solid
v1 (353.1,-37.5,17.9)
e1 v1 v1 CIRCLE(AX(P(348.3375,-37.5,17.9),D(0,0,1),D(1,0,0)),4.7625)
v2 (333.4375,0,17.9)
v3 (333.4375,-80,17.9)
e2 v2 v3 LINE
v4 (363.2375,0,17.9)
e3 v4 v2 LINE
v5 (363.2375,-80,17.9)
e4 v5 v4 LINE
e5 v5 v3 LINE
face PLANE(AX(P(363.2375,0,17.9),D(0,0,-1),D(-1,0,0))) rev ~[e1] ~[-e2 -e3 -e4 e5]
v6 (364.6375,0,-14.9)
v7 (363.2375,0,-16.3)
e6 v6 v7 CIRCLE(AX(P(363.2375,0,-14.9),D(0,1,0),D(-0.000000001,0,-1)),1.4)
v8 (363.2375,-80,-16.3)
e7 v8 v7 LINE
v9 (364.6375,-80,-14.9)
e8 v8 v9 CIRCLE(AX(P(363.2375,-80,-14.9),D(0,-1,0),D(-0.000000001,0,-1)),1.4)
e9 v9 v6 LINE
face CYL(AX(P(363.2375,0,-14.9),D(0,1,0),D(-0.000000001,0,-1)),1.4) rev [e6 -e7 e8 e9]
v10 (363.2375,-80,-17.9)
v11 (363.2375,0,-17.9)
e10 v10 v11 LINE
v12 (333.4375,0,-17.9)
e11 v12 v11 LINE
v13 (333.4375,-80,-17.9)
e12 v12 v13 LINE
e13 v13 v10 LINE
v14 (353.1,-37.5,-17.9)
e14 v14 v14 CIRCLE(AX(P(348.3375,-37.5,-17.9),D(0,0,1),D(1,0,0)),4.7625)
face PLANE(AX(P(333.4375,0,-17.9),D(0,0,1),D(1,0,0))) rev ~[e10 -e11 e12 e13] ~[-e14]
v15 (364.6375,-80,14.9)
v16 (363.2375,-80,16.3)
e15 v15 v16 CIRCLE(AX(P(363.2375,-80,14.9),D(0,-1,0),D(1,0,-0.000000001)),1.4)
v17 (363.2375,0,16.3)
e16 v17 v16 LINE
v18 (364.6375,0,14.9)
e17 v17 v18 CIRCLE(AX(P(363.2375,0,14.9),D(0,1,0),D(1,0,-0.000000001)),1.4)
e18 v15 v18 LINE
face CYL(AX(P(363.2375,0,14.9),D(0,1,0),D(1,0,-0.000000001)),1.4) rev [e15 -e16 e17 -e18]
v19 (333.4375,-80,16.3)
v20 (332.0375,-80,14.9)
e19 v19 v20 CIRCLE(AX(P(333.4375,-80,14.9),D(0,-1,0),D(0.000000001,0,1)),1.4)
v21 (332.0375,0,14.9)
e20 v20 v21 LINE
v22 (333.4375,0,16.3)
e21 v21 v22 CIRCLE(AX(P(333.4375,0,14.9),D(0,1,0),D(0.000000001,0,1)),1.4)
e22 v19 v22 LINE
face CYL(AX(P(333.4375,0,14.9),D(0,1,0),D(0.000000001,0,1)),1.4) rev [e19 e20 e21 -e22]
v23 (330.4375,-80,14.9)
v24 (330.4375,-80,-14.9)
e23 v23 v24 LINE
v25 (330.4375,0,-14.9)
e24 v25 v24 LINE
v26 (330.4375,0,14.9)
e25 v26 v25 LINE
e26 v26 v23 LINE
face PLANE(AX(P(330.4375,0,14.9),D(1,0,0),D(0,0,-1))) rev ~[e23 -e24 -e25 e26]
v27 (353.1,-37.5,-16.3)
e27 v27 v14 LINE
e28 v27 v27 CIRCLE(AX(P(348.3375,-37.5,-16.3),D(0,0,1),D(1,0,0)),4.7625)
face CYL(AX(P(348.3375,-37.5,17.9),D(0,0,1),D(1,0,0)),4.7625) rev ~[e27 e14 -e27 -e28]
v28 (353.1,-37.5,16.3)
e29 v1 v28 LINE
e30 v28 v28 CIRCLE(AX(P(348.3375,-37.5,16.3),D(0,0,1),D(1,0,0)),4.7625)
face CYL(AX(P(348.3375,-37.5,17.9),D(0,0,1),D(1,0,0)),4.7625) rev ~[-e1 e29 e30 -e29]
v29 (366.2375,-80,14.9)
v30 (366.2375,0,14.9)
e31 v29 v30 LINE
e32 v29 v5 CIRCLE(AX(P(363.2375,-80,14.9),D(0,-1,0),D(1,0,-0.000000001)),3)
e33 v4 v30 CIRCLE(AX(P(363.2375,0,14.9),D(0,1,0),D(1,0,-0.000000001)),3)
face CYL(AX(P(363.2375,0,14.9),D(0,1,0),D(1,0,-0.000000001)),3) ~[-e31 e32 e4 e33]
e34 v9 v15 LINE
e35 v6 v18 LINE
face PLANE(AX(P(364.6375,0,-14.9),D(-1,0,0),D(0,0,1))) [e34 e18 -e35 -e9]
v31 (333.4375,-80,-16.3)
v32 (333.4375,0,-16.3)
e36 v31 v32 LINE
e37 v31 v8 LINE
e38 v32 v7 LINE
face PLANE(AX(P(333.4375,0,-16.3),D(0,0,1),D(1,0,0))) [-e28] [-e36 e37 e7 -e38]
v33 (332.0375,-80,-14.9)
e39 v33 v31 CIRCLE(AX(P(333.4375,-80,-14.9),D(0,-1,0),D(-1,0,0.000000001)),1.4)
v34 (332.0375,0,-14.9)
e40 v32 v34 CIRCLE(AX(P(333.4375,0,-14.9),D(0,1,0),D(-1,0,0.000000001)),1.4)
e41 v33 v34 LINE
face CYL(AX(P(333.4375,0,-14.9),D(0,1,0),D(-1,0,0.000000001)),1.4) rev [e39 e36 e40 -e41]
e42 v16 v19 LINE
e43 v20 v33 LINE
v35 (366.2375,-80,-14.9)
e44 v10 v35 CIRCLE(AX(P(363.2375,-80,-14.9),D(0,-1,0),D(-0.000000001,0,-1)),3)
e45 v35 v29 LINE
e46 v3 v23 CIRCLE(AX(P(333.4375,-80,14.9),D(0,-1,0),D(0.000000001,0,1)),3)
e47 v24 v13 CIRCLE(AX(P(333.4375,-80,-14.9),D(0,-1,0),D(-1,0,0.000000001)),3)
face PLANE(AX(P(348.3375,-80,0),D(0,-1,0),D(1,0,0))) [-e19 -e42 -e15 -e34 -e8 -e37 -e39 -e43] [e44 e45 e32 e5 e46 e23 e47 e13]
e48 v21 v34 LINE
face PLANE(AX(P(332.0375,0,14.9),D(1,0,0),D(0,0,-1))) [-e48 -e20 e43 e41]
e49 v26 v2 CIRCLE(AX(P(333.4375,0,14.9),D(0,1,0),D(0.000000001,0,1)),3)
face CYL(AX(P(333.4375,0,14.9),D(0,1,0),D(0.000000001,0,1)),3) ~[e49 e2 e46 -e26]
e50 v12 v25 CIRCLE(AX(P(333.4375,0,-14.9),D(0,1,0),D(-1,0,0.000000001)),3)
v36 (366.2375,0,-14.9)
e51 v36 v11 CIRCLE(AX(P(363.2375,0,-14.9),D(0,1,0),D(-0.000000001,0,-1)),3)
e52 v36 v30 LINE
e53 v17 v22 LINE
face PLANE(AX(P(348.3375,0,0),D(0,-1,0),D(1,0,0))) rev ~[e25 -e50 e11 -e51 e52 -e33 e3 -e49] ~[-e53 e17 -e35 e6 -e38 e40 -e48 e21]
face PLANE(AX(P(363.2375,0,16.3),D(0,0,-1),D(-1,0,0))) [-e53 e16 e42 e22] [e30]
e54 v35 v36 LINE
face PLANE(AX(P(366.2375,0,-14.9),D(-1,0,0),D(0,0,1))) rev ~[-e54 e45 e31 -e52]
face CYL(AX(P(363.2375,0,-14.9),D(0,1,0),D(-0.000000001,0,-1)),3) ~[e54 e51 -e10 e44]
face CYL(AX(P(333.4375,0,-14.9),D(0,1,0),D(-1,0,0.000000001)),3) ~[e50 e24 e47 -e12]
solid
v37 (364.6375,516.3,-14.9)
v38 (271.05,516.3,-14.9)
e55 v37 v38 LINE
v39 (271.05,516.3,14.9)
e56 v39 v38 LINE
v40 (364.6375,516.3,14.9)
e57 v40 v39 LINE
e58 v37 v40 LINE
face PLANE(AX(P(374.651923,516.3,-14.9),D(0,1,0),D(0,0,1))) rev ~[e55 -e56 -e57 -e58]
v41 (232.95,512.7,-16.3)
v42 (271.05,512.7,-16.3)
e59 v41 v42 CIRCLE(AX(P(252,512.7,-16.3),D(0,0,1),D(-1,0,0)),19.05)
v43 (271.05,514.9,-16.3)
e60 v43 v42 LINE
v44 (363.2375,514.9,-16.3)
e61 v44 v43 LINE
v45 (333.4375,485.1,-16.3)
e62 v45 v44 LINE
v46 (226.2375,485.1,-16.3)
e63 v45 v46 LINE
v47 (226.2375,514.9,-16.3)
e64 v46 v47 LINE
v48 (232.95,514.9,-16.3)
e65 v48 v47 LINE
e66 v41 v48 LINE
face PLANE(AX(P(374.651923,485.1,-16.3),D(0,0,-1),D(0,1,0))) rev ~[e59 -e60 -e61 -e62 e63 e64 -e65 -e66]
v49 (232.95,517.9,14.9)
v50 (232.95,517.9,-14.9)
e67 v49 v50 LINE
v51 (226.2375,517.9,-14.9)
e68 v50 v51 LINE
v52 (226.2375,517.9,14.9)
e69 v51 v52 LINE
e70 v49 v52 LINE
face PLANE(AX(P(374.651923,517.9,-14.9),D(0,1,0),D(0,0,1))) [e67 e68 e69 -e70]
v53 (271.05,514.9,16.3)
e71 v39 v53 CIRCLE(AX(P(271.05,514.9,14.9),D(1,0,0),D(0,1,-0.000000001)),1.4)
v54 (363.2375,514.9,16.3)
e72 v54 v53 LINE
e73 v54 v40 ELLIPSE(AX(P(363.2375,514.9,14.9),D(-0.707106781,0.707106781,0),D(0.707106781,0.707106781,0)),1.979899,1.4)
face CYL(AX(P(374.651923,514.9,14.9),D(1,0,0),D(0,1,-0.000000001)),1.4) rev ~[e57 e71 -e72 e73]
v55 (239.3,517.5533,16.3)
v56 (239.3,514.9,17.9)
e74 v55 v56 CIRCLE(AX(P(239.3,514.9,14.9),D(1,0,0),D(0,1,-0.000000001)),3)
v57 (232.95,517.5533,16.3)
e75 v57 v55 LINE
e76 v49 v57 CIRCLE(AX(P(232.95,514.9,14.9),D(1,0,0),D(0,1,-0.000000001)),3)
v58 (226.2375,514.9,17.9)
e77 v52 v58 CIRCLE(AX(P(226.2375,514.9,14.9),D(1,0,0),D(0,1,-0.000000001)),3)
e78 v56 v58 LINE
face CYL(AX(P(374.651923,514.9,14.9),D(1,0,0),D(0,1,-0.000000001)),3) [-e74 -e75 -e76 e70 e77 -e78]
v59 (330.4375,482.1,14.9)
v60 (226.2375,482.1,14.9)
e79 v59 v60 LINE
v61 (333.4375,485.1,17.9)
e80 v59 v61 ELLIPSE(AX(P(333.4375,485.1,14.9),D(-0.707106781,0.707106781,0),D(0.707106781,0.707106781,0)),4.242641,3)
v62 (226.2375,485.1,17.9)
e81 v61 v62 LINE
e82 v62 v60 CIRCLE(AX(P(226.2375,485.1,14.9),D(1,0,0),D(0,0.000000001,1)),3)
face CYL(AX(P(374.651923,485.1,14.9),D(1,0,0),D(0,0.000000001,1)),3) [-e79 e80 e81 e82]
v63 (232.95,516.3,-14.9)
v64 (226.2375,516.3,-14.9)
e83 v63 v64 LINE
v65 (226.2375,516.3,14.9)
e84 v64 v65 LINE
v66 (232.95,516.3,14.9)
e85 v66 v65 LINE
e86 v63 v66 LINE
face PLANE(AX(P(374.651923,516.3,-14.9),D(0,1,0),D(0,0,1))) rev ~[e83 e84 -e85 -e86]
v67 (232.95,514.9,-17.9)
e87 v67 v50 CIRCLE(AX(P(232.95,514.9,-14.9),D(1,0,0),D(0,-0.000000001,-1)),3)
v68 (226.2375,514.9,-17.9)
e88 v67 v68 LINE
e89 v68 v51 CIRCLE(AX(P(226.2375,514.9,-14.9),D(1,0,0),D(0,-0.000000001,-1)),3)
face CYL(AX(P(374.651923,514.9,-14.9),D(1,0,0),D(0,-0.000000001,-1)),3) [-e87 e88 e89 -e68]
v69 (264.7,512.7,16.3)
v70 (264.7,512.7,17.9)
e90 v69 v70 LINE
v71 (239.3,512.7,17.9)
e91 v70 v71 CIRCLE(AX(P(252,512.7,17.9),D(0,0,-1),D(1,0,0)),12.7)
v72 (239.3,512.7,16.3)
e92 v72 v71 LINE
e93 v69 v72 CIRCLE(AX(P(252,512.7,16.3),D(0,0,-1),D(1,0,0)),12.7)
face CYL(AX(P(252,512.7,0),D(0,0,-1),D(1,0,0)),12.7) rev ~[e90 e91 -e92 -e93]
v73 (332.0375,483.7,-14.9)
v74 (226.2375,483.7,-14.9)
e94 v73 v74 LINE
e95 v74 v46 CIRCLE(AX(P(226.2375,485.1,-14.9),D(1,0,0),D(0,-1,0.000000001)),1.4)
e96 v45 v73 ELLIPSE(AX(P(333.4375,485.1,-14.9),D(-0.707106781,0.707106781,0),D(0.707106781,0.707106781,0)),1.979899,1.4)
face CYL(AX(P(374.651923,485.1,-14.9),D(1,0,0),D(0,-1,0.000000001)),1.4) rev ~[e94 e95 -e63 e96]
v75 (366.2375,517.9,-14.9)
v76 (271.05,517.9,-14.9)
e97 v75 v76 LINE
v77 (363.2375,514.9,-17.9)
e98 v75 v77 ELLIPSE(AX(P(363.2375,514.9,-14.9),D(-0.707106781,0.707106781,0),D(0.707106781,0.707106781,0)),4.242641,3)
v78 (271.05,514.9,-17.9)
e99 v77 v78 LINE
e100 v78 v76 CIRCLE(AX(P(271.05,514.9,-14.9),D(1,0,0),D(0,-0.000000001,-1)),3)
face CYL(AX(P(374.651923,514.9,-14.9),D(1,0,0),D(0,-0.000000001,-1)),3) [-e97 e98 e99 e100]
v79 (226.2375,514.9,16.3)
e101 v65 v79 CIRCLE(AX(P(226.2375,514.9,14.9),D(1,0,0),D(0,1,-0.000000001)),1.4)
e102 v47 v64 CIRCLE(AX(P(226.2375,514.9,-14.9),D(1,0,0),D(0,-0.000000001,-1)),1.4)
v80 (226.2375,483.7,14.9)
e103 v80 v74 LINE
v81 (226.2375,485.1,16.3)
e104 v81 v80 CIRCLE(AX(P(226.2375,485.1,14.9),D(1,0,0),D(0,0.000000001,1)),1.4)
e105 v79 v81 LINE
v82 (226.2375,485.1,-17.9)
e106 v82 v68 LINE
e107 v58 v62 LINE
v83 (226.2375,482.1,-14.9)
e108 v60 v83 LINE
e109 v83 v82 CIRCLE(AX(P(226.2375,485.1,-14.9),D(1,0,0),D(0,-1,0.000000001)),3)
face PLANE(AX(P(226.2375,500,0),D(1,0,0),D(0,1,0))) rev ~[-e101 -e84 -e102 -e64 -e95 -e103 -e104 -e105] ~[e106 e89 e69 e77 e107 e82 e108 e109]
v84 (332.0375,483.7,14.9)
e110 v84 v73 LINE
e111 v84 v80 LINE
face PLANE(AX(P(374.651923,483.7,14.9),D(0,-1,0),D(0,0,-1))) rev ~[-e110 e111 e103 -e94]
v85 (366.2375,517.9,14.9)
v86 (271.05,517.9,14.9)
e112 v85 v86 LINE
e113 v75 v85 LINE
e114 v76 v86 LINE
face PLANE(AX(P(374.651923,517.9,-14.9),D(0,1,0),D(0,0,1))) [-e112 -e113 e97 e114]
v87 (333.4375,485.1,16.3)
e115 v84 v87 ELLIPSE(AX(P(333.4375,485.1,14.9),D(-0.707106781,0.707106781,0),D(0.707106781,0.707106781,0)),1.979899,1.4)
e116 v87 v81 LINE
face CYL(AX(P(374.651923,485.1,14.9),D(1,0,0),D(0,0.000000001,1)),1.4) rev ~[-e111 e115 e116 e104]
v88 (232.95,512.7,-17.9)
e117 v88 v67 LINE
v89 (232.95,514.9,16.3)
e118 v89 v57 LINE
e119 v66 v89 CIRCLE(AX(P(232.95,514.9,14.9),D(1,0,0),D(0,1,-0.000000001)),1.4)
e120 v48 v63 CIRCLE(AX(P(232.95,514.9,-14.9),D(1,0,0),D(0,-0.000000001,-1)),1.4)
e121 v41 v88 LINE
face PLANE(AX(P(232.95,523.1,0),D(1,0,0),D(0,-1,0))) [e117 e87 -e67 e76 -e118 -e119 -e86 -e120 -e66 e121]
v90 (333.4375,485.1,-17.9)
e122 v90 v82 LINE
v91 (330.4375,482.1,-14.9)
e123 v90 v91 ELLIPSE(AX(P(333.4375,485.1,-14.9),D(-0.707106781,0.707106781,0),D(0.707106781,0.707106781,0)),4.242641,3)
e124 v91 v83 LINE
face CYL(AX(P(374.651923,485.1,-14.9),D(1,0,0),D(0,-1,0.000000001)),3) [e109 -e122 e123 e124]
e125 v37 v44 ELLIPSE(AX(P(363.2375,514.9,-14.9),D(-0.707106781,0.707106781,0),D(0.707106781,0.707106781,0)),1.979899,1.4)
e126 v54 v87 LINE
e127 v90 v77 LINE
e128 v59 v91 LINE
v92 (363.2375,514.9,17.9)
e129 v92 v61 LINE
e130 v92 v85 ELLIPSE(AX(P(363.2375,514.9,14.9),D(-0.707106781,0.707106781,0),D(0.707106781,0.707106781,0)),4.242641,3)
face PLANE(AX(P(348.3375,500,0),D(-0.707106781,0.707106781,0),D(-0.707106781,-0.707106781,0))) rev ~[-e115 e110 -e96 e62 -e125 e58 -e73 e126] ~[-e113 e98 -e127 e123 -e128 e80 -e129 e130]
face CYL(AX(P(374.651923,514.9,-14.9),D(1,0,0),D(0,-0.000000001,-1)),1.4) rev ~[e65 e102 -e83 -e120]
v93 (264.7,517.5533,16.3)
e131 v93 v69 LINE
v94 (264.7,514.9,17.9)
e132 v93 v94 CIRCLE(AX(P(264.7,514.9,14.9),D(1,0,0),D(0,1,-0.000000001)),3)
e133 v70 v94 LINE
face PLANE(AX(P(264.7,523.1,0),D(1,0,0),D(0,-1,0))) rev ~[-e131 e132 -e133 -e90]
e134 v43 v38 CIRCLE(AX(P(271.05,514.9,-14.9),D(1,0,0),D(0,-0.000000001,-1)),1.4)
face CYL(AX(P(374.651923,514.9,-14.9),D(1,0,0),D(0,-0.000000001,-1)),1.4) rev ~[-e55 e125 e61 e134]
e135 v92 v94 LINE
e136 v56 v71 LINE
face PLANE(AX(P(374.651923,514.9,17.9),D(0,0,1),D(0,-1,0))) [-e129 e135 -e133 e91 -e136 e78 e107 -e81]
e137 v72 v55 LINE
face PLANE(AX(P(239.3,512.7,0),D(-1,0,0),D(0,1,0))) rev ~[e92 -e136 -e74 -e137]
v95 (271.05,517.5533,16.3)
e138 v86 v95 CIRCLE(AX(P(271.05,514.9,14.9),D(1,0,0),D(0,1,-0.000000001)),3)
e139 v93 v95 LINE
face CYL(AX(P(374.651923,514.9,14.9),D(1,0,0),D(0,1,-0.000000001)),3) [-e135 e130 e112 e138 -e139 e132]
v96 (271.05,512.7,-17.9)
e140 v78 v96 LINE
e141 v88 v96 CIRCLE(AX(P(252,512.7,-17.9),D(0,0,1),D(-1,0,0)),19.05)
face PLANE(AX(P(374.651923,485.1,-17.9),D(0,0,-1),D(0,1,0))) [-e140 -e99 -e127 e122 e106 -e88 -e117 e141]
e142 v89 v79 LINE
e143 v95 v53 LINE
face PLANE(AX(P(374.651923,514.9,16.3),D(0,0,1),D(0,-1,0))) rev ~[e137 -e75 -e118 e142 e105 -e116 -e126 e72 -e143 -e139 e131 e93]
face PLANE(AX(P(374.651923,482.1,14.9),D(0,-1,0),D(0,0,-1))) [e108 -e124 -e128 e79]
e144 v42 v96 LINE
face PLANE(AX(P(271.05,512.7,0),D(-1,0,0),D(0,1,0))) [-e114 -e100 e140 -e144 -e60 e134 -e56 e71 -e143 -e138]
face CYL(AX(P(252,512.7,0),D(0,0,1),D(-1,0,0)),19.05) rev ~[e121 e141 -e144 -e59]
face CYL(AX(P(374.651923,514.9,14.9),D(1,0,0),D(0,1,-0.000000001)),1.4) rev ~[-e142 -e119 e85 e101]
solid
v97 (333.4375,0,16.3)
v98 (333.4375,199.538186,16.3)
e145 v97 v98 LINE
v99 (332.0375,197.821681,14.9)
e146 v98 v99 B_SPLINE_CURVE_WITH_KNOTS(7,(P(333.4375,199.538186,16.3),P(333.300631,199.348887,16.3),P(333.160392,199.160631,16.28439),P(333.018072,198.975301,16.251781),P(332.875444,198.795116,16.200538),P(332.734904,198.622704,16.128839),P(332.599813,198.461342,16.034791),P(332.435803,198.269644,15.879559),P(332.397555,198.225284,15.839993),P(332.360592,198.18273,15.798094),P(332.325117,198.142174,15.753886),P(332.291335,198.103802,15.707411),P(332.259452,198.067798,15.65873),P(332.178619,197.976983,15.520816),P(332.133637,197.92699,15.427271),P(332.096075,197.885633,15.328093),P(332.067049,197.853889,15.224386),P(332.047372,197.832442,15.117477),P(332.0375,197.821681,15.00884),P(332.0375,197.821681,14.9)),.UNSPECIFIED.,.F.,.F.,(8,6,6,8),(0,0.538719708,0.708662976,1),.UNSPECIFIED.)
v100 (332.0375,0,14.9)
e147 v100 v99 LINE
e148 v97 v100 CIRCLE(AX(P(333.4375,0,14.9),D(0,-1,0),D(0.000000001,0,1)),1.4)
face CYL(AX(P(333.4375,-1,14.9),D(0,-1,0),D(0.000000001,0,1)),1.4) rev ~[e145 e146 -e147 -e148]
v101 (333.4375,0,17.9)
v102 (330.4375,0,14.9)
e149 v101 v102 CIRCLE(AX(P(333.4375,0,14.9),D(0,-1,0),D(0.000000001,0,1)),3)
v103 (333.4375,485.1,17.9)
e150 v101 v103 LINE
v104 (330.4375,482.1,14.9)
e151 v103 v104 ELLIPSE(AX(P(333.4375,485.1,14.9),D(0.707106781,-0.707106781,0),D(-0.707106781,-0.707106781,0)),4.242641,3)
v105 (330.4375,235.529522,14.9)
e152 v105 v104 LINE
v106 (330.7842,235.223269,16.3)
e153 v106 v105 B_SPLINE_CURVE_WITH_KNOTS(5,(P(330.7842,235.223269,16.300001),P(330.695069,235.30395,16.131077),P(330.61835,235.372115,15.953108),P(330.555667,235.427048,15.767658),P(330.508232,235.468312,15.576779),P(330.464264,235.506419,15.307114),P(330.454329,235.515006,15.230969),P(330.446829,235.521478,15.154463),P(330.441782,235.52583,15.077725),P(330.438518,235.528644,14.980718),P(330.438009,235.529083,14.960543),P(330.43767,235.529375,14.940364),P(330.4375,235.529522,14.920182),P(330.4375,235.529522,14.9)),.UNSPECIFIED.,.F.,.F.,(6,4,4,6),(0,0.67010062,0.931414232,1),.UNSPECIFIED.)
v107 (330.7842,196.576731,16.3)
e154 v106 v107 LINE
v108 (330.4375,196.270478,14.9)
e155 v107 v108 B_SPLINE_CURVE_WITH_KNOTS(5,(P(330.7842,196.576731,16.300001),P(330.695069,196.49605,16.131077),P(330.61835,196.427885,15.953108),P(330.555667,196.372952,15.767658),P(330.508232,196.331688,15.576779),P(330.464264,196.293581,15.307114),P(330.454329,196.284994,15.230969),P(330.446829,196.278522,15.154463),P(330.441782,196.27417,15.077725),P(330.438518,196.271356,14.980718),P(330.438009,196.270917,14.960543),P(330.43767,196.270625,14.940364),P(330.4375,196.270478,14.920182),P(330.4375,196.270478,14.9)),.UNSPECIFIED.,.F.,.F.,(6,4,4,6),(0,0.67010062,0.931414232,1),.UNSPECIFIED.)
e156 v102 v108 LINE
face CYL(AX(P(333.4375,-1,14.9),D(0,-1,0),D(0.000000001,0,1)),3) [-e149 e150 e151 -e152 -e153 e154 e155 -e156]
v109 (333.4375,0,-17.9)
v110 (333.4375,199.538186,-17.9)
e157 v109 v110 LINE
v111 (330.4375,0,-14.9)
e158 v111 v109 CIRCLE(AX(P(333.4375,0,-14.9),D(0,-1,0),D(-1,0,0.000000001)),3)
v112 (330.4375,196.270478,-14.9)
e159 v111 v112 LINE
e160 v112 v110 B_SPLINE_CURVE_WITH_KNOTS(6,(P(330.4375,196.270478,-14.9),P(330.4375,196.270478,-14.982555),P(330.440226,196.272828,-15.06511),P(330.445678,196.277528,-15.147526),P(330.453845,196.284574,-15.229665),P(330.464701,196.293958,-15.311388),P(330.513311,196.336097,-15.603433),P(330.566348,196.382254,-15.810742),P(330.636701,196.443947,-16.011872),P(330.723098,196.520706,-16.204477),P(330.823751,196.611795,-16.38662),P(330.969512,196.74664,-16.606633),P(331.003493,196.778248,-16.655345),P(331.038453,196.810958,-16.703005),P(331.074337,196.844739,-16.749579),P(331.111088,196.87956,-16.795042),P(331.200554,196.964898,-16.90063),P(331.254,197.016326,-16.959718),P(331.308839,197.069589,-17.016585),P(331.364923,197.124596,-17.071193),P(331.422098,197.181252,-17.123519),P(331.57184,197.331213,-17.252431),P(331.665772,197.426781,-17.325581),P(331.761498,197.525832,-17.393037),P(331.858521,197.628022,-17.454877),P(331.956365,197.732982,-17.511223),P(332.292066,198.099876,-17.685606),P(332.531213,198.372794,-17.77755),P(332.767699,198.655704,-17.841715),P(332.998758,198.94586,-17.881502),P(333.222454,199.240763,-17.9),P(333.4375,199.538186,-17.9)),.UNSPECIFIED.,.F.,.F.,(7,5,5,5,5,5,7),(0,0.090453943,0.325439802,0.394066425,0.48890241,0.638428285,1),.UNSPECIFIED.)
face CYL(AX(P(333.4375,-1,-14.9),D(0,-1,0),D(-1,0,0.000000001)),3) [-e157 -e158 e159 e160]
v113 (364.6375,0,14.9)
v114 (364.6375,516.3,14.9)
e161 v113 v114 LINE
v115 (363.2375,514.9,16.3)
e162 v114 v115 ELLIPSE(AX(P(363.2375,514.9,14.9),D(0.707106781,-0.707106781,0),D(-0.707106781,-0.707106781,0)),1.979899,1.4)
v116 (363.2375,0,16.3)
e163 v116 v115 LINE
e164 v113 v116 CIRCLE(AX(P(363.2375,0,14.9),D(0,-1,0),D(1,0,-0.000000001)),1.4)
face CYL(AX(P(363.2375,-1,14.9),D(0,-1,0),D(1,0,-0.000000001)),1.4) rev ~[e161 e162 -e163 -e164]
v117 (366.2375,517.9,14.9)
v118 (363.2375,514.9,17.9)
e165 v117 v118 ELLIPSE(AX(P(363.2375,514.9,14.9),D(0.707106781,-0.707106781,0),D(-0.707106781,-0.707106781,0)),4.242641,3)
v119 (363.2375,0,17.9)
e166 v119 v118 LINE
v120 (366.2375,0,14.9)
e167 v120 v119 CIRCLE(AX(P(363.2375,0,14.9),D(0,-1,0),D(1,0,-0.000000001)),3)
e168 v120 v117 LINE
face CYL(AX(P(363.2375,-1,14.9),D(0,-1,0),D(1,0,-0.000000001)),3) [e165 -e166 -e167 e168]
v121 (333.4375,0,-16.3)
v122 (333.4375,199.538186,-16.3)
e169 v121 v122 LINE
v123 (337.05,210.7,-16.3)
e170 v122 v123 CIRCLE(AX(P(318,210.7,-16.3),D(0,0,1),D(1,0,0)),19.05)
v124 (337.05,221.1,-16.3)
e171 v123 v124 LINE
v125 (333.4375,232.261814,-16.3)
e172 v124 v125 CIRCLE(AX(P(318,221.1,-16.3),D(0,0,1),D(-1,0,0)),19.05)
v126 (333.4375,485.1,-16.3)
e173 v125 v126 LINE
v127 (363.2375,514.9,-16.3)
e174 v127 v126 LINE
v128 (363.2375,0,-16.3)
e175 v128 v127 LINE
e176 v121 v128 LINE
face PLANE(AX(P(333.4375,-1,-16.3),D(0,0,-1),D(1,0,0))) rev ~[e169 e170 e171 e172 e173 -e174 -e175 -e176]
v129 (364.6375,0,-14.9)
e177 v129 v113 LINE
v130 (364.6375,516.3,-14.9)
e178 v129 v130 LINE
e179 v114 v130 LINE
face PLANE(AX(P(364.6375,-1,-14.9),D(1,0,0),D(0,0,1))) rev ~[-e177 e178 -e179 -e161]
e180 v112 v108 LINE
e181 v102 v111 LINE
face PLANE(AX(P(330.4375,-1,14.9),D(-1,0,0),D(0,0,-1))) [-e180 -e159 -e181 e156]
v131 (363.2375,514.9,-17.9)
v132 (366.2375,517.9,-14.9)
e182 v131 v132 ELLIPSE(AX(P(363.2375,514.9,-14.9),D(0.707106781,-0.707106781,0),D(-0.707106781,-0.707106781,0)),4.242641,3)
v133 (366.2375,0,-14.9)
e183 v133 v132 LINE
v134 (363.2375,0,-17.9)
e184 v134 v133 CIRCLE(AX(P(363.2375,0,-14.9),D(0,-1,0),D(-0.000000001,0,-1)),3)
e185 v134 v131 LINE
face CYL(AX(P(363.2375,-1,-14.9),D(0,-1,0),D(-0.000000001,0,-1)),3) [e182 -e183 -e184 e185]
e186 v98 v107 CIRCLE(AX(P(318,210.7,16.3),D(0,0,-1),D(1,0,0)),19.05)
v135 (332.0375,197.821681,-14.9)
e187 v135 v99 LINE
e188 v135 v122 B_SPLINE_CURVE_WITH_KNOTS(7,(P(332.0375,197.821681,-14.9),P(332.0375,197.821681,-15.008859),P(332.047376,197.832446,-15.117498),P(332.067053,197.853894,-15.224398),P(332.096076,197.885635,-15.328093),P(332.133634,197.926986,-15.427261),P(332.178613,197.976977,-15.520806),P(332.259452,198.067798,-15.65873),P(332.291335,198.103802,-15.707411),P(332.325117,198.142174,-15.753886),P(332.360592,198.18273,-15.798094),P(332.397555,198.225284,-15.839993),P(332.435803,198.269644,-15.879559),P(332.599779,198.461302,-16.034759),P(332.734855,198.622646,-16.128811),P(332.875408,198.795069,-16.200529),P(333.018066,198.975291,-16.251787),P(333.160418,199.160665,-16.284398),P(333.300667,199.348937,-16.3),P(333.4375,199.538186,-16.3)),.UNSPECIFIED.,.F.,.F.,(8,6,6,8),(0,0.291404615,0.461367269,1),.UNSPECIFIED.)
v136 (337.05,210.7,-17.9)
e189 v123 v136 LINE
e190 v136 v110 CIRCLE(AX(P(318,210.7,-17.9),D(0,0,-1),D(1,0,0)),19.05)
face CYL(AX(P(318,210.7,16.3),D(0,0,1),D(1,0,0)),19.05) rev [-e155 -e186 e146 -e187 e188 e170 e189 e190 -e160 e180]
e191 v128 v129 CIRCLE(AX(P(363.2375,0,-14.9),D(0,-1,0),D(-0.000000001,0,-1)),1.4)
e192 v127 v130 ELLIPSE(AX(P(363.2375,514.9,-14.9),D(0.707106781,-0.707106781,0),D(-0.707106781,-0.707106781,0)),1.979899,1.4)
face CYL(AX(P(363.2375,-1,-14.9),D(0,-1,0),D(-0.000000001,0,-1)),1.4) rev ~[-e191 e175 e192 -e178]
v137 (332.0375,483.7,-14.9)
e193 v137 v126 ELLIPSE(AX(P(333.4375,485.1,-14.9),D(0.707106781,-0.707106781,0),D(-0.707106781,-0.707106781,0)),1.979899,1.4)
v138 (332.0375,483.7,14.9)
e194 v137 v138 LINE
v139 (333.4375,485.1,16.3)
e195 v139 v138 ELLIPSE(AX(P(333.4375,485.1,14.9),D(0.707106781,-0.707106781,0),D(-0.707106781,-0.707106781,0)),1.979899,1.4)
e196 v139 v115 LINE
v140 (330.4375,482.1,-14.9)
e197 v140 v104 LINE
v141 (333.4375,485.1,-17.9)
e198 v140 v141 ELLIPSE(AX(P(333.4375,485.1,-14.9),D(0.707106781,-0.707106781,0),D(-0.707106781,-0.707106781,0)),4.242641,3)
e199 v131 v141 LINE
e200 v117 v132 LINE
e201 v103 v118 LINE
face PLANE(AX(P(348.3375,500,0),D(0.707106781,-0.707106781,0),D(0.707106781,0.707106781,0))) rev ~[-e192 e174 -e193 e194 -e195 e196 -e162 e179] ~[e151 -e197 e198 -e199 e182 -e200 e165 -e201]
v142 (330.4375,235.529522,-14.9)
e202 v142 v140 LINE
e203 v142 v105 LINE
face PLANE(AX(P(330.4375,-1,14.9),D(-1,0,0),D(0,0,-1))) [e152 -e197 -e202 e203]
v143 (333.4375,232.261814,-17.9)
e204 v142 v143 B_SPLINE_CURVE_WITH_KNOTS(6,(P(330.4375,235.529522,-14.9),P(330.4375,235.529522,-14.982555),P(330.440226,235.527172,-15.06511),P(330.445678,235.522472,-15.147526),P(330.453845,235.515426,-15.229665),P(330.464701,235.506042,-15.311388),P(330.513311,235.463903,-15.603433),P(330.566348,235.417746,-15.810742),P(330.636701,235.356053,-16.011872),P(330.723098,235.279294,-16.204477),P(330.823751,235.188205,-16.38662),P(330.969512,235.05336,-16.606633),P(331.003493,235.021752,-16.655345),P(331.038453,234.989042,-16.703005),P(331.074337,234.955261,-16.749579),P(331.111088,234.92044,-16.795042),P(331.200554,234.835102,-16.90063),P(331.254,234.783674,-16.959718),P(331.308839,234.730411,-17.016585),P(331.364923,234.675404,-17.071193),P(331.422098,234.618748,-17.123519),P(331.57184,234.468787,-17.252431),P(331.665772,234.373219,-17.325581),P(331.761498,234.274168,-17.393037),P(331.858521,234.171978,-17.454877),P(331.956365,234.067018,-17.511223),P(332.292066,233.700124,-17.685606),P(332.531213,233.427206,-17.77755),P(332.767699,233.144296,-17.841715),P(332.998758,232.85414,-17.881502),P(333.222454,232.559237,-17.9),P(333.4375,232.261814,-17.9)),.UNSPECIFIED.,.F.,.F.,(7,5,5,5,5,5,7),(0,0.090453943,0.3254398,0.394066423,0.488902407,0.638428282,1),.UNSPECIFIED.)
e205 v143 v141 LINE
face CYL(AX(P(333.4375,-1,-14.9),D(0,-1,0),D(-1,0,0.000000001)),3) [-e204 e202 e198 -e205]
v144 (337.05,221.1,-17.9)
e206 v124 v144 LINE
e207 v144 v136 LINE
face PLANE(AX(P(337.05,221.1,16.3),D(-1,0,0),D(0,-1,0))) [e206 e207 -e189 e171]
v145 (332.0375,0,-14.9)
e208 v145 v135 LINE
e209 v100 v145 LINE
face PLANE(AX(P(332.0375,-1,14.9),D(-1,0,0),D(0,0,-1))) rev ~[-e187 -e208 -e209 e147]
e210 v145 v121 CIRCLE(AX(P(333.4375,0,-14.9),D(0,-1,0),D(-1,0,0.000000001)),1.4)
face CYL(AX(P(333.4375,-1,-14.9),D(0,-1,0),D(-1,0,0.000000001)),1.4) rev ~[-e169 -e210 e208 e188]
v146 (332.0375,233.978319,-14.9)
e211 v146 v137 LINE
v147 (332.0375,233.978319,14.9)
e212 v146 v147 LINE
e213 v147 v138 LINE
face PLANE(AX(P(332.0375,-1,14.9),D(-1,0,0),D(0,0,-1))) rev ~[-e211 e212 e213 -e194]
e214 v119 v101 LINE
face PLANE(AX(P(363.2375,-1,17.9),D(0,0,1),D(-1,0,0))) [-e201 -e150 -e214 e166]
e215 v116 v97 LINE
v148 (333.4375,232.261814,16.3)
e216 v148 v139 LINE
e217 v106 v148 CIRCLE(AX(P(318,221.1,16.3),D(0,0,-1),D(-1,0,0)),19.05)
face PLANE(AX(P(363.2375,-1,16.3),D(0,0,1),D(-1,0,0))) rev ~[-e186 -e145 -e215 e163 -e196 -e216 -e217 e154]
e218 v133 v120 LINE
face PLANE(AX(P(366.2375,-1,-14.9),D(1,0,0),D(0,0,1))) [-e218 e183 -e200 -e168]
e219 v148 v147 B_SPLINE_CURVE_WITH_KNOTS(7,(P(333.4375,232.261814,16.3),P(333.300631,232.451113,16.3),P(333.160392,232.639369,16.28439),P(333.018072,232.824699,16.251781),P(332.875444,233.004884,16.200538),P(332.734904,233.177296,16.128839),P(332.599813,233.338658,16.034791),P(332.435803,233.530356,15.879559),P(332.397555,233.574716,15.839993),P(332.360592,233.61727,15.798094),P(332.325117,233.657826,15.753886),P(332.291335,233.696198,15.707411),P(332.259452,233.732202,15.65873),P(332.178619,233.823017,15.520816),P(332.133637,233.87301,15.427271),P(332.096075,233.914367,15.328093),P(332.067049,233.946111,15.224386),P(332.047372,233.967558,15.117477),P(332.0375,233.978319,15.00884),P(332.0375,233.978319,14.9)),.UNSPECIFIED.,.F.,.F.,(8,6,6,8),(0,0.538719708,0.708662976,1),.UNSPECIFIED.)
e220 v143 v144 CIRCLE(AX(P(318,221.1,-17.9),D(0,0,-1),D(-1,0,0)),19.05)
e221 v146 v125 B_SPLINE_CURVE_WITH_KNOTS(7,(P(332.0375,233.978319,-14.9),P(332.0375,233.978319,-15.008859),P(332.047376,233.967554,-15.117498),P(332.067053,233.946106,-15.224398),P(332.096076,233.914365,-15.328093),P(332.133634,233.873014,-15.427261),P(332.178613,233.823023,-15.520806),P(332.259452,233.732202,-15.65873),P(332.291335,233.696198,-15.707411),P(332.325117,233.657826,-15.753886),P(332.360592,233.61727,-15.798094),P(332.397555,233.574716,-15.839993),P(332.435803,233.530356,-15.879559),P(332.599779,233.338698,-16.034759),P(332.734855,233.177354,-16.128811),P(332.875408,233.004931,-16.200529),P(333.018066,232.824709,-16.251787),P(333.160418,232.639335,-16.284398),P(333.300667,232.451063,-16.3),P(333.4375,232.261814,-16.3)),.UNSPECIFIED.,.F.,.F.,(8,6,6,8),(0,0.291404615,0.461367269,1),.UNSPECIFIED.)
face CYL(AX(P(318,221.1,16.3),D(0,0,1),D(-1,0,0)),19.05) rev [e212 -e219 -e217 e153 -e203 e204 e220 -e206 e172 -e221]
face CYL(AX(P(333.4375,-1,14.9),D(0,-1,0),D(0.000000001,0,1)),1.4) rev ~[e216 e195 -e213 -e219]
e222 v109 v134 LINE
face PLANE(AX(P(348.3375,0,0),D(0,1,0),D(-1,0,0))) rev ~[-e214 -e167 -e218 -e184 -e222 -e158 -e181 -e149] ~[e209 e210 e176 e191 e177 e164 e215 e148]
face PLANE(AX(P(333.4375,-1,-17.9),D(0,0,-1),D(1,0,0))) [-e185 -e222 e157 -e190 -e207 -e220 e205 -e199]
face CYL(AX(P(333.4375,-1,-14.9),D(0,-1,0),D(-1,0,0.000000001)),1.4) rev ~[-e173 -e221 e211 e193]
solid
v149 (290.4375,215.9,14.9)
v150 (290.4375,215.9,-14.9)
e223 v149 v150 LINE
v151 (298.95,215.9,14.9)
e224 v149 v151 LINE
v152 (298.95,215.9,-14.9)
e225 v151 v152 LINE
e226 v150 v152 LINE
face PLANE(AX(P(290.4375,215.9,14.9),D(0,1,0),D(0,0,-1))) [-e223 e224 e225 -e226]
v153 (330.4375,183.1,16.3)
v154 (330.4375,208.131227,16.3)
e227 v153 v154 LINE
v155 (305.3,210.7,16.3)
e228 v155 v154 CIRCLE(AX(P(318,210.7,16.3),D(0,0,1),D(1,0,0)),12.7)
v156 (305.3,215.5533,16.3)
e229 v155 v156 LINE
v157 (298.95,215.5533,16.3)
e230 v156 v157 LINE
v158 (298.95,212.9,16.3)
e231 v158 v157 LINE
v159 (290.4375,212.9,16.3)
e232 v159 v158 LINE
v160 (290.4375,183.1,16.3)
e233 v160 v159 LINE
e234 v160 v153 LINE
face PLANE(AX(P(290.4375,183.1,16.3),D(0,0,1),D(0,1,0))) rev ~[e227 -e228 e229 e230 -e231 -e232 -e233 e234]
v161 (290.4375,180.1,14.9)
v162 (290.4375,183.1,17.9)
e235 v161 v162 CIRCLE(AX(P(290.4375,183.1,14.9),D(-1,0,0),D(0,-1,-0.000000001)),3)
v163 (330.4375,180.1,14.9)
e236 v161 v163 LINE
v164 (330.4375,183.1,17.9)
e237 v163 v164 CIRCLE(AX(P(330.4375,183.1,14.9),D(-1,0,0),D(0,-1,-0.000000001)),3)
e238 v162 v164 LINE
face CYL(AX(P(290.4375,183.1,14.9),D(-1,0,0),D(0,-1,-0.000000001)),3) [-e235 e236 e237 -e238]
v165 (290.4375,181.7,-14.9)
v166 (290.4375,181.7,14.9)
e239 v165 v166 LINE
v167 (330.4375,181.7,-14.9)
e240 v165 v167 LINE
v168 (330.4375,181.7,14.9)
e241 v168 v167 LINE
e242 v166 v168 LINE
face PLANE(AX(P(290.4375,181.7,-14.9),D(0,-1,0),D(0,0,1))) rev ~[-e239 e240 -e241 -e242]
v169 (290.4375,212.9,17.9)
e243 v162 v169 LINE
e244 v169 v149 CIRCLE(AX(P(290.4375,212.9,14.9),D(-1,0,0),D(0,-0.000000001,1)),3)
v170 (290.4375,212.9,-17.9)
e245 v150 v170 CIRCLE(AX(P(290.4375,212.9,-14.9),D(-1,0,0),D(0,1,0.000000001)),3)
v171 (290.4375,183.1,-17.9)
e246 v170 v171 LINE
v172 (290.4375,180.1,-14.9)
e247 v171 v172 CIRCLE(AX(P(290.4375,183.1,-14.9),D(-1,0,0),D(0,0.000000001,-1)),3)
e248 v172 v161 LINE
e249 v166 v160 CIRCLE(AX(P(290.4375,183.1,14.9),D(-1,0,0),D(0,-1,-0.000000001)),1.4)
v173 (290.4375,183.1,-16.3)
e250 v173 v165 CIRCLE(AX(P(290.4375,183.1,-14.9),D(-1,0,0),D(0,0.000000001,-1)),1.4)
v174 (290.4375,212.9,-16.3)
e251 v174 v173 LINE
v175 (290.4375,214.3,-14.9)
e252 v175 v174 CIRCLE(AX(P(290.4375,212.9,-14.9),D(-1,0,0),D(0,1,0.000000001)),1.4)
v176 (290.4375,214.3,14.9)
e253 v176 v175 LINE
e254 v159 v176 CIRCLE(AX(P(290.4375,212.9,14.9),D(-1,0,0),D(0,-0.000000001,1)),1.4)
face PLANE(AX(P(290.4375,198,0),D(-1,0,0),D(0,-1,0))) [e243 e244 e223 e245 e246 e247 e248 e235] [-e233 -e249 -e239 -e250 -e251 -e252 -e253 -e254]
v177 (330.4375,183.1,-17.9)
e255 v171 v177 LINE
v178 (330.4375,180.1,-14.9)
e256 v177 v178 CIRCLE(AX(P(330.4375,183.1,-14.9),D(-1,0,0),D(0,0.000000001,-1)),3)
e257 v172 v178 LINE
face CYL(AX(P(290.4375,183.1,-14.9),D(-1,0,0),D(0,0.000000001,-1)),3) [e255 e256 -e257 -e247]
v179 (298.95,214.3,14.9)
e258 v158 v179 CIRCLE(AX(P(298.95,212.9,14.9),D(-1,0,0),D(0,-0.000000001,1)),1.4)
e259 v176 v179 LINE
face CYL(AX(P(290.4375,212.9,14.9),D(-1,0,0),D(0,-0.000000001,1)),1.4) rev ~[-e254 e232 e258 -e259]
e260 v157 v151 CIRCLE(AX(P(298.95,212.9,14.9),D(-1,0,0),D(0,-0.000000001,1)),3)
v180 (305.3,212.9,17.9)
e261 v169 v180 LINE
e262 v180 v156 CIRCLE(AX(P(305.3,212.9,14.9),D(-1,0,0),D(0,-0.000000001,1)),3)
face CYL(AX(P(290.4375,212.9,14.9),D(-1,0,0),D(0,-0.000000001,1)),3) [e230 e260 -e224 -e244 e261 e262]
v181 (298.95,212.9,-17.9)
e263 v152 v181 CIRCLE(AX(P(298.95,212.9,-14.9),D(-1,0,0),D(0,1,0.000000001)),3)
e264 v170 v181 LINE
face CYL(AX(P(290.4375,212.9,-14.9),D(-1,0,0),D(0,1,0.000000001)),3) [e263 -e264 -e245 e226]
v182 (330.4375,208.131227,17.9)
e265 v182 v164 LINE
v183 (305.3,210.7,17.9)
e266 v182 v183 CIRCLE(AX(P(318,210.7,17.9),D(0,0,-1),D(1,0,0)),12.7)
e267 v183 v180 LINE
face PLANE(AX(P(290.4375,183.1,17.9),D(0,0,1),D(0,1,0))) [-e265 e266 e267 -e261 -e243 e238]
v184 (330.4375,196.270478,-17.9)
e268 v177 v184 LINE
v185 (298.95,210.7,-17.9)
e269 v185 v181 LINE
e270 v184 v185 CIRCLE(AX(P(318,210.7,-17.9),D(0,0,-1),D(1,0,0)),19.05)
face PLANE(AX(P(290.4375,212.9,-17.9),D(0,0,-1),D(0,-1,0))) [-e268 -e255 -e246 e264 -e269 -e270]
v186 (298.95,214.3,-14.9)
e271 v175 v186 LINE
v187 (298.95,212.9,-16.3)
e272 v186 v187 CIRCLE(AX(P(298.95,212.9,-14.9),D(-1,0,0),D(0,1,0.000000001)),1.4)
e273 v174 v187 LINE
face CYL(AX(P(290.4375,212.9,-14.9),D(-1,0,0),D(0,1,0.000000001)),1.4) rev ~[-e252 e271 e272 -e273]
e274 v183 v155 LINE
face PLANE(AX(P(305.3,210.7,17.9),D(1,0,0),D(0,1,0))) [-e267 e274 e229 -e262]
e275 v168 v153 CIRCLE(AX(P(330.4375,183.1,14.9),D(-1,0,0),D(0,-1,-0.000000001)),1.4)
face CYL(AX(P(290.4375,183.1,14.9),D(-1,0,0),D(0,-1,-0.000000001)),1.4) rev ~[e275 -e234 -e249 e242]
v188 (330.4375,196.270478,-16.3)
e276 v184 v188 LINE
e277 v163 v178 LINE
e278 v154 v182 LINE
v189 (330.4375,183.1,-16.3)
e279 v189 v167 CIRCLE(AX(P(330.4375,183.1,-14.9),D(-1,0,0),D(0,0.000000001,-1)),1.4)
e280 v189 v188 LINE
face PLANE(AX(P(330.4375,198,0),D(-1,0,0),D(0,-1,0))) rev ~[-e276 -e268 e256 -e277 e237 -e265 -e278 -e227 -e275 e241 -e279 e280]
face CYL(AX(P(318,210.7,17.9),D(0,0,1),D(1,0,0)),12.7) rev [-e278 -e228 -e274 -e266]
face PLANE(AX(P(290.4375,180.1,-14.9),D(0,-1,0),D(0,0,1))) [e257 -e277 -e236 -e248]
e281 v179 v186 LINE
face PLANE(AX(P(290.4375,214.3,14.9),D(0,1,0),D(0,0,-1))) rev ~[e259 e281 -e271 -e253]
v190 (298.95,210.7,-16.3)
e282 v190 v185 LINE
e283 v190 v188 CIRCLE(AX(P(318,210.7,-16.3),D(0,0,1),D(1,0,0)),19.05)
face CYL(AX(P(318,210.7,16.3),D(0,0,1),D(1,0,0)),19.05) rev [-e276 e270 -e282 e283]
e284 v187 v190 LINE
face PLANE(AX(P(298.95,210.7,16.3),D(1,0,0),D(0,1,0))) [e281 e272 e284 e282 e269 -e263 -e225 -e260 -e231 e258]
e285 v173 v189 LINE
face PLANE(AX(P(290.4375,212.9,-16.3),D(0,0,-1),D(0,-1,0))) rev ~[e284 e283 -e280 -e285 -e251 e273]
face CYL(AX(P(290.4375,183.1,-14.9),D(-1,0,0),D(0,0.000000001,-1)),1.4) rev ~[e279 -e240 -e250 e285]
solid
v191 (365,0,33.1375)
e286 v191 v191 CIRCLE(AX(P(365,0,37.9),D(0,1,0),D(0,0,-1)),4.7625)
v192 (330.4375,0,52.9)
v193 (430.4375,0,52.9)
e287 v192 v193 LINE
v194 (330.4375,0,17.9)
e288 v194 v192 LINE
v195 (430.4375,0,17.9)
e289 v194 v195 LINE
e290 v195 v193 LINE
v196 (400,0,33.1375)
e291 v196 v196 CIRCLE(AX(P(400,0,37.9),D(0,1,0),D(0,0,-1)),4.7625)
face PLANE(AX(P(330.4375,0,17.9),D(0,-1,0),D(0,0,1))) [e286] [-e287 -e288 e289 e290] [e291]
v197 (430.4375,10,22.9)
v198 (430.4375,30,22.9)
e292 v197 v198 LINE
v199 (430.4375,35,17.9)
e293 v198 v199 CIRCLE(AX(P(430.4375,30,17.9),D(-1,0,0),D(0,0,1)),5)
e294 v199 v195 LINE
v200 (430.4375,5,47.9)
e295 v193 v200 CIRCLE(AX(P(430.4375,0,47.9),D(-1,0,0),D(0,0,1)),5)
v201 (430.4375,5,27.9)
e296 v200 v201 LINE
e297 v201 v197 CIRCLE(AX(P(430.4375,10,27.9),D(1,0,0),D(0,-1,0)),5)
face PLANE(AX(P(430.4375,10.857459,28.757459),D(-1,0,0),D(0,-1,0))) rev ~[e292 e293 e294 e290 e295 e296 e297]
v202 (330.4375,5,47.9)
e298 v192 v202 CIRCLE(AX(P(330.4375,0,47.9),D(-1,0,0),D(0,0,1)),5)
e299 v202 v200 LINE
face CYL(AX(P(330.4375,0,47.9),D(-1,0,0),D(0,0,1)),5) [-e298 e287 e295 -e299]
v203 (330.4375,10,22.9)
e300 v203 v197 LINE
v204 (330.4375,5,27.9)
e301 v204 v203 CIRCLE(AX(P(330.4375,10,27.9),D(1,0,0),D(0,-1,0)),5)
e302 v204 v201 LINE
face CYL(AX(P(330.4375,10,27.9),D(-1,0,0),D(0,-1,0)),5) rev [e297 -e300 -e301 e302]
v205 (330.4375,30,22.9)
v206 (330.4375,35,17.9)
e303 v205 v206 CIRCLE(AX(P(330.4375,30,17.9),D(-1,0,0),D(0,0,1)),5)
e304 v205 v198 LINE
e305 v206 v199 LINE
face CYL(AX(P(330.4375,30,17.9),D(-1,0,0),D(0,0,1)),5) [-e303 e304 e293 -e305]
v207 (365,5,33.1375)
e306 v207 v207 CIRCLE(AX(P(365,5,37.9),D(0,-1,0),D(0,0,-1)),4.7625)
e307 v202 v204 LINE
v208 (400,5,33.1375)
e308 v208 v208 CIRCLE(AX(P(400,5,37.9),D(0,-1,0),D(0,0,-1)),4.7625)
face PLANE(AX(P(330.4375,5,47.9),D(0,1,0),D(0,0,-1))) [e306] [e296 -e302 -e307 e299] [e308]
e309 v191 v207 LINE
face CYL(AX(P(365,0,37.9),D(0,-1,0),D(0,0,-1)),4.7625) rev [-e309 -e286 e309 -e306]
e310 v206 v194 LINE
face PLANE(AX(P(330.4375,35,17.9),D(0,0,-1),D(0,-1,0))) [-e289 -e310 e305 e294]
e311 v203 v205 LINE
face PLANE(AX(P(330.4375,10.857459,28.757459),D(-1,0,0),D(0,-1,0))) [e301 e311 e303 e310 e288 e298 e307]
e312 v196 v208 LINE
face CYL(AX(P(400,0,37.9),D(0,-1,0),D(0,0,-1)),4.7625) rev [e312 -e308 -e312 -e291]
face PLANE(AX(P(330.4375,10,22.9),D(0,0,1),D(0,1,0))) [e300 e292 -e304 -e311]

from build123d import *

# Parameters (mm, degrees)
STRUCTURAL_MEMBERMAIN_DEPTH                   = 1
STRUCTURAL_MEMBERMAIN_DEPTH_BACK              = 80
STRUCTURAL_MEMBERMAIN_2_DEPTH                 = 527.314422766
STRUCTURAL_MEMBERMAIN_3_DEPTH                 = 148.414422766
STRUCTURAL_MEMBERMAIN_4_DEPTH                 = 58.9
CUT_EXTRUDETOPRAILGUIDE_DEPTH                 = 635.563414015
CUT_EXTRUDETOPRAILGUIDE_DEPTH_BACK            = 635.563414015
STRUCTURAL_MEMBERANGLE_DEPTH                  = 100
SKETCH15_R                                    = 4.7625
CUT_EXTRUDEMOUNTINGHOLES_DEPTH                = 676.49630747
CUT_EXTRUDEENLARGERAILGUIDE_DEPTH             = 676.49630747
CUT_EXTRUDEENLARGERAILGUIDE_DIRECTION_2_REACH = 677.496
CUT_EXTRUDE2_DEPTH                            = 675.372665079
SKETCH19_R                                    = 4.7625
CUT_EXTRUDE3_DEPTH                            = 675.372665085
CUT_EXTRUDE4_START                            = -34.2
CUT_EXTRUDE4_DEPTH                            = 34.2


with BuildPart() as part:
    # Sketch11 → Structural MemberMain (new, two sides)
    with BuildSketch(Plane(origin=(348.3375, 0, 0), x_dir=(-1, 0, 0), z_dir=(0, 1, 0))) as structural_membermain_sk:
        with BuildLine():
            Line((-14.9, 17.9), (14.9, 17.9))
            ThreePointArc((14.9, 17.9), (17.021320344, 17.021320344), (17.9, 14.9))
            Line((17.9, 14.9), (17.9, -14.9))
            ThreePointArc((17.9, -14.9), (17.021320344, -17.021320344), (14.9, -17.9))
            Line((14.9, -17.9), (-14.9, -17.9))
            ThreePointArc((-14.9, -17.9), (-17.021320344, -17.021320344), (-17.9, -14.9))
            Line((-17.9, -14.9), (-17.9, 14.9))
            ThreePointArc((-17.9, 14.9), (-17.021320344, 17.021320344), (-14.9, 17.9))
        make_face()
        with BuildLine():
            Line((-14.9, 16.3), (14.9, 16.3))
            ThreePointArc((14.9, 16.3), (15.889949494, 15.889949494), (16.3, 14.9))
            Line((16.3, 14.9), (16.3, -14.9))
            ThreePointArc((16.3, -14.9), (15.889949494, -15.889949494), (14.9, -16.3))
            Line((14.9, -16.3), (-14.9, -16.3))
            ThreePointArc((-14.9, -16.3), (-15.889949494, -15.889949494), (-16.3, -14.9))
            Line((-16.3, -14.9), (-16.3, 14.9))
            ThreePointArc((-16.3, 14.9), (-15.889949494, 15.889949494), (-14.9, 16.3))
        make_face(mode=Mode.SUBTRACT)
    extrude(amount=STRUCTURAL_MEMBERMAIN_DEPTH)
    extrude(structural_membermain_sk.sketch, amount=-STRUCTURAL_MEMBERMAIN_DEPTH_BACK)

    # Structural MemberMain mitre 1
    split(bisect_by=Plane(origin=(348.3375, 0, 0), x_dir=(1, 0, 0), z_dir=(0, -1, 0)), keep=Keep.TOP)

    # Sketch19 → Cut-Extrude3 (cut, through all)
    with BuildSketch(Plane.XY.offset(17.9)):
        with Locations((348.3375, -37.5)):
            Circle(SKETCH19_R)
    extrude(amount=-CUT_EXTRUDE3_DEPTH, mode=Mode.SUBTRACT)


with BuildPart() as body_2:
    # Sketch11 on segment 2 (carried to segment 2) → Structural MemberMain 2 (new body)
    with BuildSketch(Plane(origin=(348.3375, -1, 0), x_dir=(-1, 0, 0), z_dir=(0, 1, 0))):
        with BuildLine():
            Line((-14.9, 17.9), (14.9, 17.9))
            ThreePointArc((14.9, 17.9), (17.021320344, 17.021320344), (17.9, 14.9))
            Line((17.9, 14.9), (17.9, -14.9))
            ThreePointArc((17.9, -14.9), (17.021320344, -17.021320344), (14.9, -17.9))
            Line((14.9, -17.9), (-14.9, -17.9))
            ThreePointArc((-14.9, -17.9), (-17.021320344, -17.021320344), (-17.9, -14.9))
            Line((-17.9, -14.9), (-17.9, 14.9))
            ThreePointArc((-17.9, 14.9), (-17.021320344, 17.021320344), (-14.9, 17.9))
        make_face()
        with BuildLine():
            Line((-14.9, 16.3), (14.9, 16.3))
            ThreePointArc((14.9, 16.3), (15.889949494, 15.889949494), (16.3, 14.9))
            Line((16.3, 14.9), (16.3, -14.9))
            ThreePointArc((16.3, -14.9), (15.889949494, -15.889949494), (14.9, -16.3))
            Line((14.9, -16.3), (-14.9, -16.3))
            ThreePointArc((-14.9, -16.3), (-15.889949494, -15.889949494), (-16.3, -14.9))
            Line((-16.3, -14.9), (-16.3, 14.9))
            ThreePointArc((-16.3, 14.9), (-15.889949494, 15.889949494), (-14.9, 16.3))
        make_face(mode=Mode.SUBTRACT)
    extrude(amount=STRUCTURAL_MEMBERMAIN_2_DEPTH)

    # Structural MemberMain 2 mitre 1
    split(bisect_by=Plane(origin=(348.3375, 0, 0), x_dir=(-1, 0, 0), z_dir=(0, 1, 0)), keep=Keep.TOP)

    # Structural MemberMain 2 mitre 2
    split(bisect_by=Plane(origin=(348.3375, 500, 0), x_dir=(0.707106781, 0.707106781, 0), z_dir=(0.707106781, -0.707106781, 0)), keep=Keep.TOP)


with BuildPart() as body_3:
    # Sketch11 on segment 3 (carried to segment 3) → Structural MemberMain 3 (new body)
    with BuildSketch(Plane(origin=(374.651922766, 500, 0), x_dir=(0, -1, 0), z_dir=(-1, 0, 0))):
        with BuildLine():
            Line((-14.9, 17.9), (14.9, 17.9))
            ThreePointArc((14.9, 17.9), (17.021320344, 17.021320344), (17.9, 14.9))
            Line((17.9, 14.9), (17.9, -14.9))
            ThreePointArc((17.9, -14.9), (17.021320344, -17.021320344), (14.9, -17.9))
            Line((14.9, -17.9), (-14.9, -17.9))
            ThreePointArc((-14.9, -17.9), (-17.021320344, -17.021320344), (-17.9, -14.9))
            Line((-17.9, -14.9), (-17.9, 14.9))
            ThreePointArc((-17.9, 14.9), (-17.021320344, 17.021320344), (-14.9, 17.9))
        make_face()
        with BuildLine():
            Line((-14.9, 16.3), (14.9, 16.3))
            ThreePointArc((14.9, 16.3), (15.889949494, 15.889949494), (16.3, 14.9))
            Line((16.3, 14.9), (16.3, -14.9))
            ThreePointArc((16.3, -14.9), (15.889949494, -15.889949494), (14.9, -16.3))
            Line((14.9, -16.3), (-14.9, -16.3))
            ThreePointArc((-14.9, -16.3), (-15.889949494, -15.889949494), (-16.3, -14.9))
            Line((-16.3, -14.9), (-16.3, 14.9))
            ThreePointArc((-16.3, 14.9), (-15.889949494, 15.889949494), (-14.9, 16.3))
        make_face(mode=Mode.SUBTRACT)
    extrude(amount=STRUCTURAL_MEMBERMAIN_3_DEPTH)

    # Structural MemberMain 3 mitre 1
    split(bisect_by=Plane(origin=(348.3375, 500, 0), x_dir=(-0.707106781, -0.707106781, 0), z_dir=(-0.707106781, 0.707106781, 0)), keep=Keep.TOP)

    # Sketch12 → Cut-ExtrudeTopRailGuide (cut, two sides)
    with BuildSketch(Plane.XY) as cut_extrudetoprailguide_sk:
        with BuildLine():
            Line((239.3, 512.7), (239.3, 523.1))
            ThreePointArc((239.3, 523.1), (252, 535.8), (264.7, 523.1))
            Line((264.7, 523.1), (264.7, 512.7))
            ThreePointArc((264.7, 512.7), (252, 500), (239.3, 512.7))
        make_face()
    extrude(amount=CUT_EXTRUDETOPRAILGUIDE_DEPTH, mode=Mode.SUBTRACT)
    extrude(cut_extrudetoprailguide_sk.sketch, amount=-CUT_EXTRUDETOPRAILGUIDE_DEPTH_BACK, mode=Mode.SUBTRACT)

    # Sketch16 → Cut-ExtrudeEnlargeRailGuide (cut)
    with BuildSketch(Plane.XY):
        with BuildLine():
            Line((271.05, 512.7), (271.05, 523.1))
            ThreePointArc((271.05, 523.1), (252, 542.15), (232.95, 523.1))
            Line((232.95, 523.1), (232.95, 512.7))
            ThreePointArc((232.95, 512.7), (252, 493.65), (271.05, 512.7))
        make_face()
    extrude(amount=-CUT_EXTRUDEENLARGERAILGUIDE_DEPTH, mode=Mode.SUBTRACT)

    # Cut-ExtrudeEnlargeRailGuide direction 2: up to this face of the body (flat: up to its plane)
    cut_extrudeenlargerailguide_direction_2_end = Plane(body_3.part.faces().sort_by_distance((290.896237065, 499.874495333, 16.3))[0])
    # Sketch16 → Cut-ExtrudeEnlargeRailGuide direction 2 (cut, up to the picked face)
    with BuildSketch(Plane.XY, mode=Mode.PRIVATE) as cut_extrudeenlargerailguide_direction_2_sk1:
        with BuildLine():
            Line((271.05, 512.7), (271.05, 523.1))
            ThreePointArc((271.05, 523.1), (252, 542.15), (232.95, 523.1))
            Line((232.95, 523.1), (232.95, 512.7))
            ThreePointArc((232.95, 512.7), (252, 493.65), (271.05, 512.7))
        make_face()
    cut_extrudeenlargerailguide_direction_2_tool1 = split(extrude(cut_extrudeenlargerailguide_direction_2_sk1.sketch, amount=CUT_EXTRUDEENLARGERAILGUIDE_DIRECTION_2_REACH, mode=Mode.PRIVATE), bisect_by=cut_extrudeenlargerailguide_direction_2_end, keep=Keep.BOTH, mode=Mode.PRIVATE)
    add(cut_extrudeenlargerailguide_direction_2_tool1.solids().sort_by(Axis((252, 517.9, 0), (0, 0, 1)))[0], mode=Mode.SUBTRACT)


with BuildPart() as body_4:
    # Sketch11 on segment 4 (carried to segment 4) → Structural MemberMain 4 (new body)
    with BuildSketch(Plane(origin=(290.4375, 198, 0), x_dir=(0, 1, 0), z_dir=(1, 0, 0))):
        with BuildLine():
            Line((-14.9, 17.9), (14.9, 17.9))
            ThreePointArc((14.9, 17.9), (17.021320344, 17.021320344), (17.9, 14.9))
            Line((17.9, 14.9), (17.9, -14.9))
            ThreePointArc((17.9, -14.9), (17.021320344, -17.021320344), (14.9, -17.9))
            Line((14.9, -17.9), (-14.9, -17.9))
            ThreePointArc((-14.9, -17.9), (-17.021320344, -17.021320344), (-17.9, -14.9))
            Line((-17.9, -14.9), (-17.9, 14.9))
            ThreePointArc((-17.9, 14.9), (-17.021320344, 17.021320344), (-14.9, 17.9))
        make_face()
        with BuildLine():
            Line((-14.9, 16.3), (14.9, 16.3))
            ThreePointArc((14.9, 16.3), (15.889949494, 15.889949494), (16.3, 14.9))
            Line((16.3, 14.9), (16.3, -14.9))
            ThreePointArc((16.3, -14.9), (15.889949494, -15.889949494), (14.9, -16.3))
            Line((14.9, -16.3), (-14.9, -16.3))
            ThreePointArc((-14.9, -16.3), (-15.889949494, -15.889949494), (-16.3, -14.9))
            Line((-16.3, -14.9), (-16.3, 14.9))
            ThreePointArc((-16.3, 14.9), (-15.889949494, 15.889949494), (-14.9, 16.3))
        make_face(mode=Mode.SUBTRACT)
    extrude(amount=STRUCTURAL_MEMBERMAIN_4_DEPTH)

    # Structural MemberMain 4 mitre 1
    split(bisect_by=Plane(origin=(330.4375, 198, 0), x_dir=(0, -1, 0), z_dir=(-1, 0, 0)), keep=Keep.TOP)


with BuildPart() as body_5:
    # Sketch14 → Structural MemberAngle (new body)
    with BuildSketch(Plane(origin=(330.4375, 0, 17.9), x_dir=(0, 1, 0), z_dir=(1, 0, 0))):
        with BuildLine():
            Line((0, 0), (0, 35))
            ThreePointArc((0, 35), (3.535533906, 33.535533906), (5, 30))
            Line((5, 30), (5, 10))
            ThreePointArc((5, 10), (6.464466094, 6.464466094), (10, 5))
            Line((10, 5), (30, 5))
            ThreePointArc((30, 5), (33.535533906, 3.535533906), (35, 0))
            Line((35, 0), (0, 0))
        make_face()
    extrude(amount=STRUCTURAL_MEMBERANGLE_DEPTH)

    # Sketch15 → Cut-ExtrudeMountingHoles (cut, through all)
    with BuildSketch(Plane(origin=(0, 0, 0), x_dir=(1, 0, 0), z_dir=(0, 1, 0))):
        with Locations(Location((365, -37.9, 0), (0, 0, 90))):
            Circle(SKETCH15_R)
        with Locations(Location((400, -37.9, 0), (0, 0, 90))):
            Circle(SKETCH15_R)
    extrude(amount=CUT_EXTRUDEMOUNTINGHOLES_DEPTH, mode=Mode.SUBTRACT)


with BuildPart() as cut_extrude2_tool:
    # Sketch18 → Cut-Extrude2 (new, through all)
    with BuildSketch(Plane.XY.offset(17.9)):
        with BuildLine():
            Line((305.3, 210.7), (305.3, 221.1))
            ThreePointArc((305.3, 221.1), (318, 233.8), (330.7, 221.1))
            Line((330.7, 221.1), (330.7, 210.7))
            ThreePointArc((330.7, 210.7), (318, 198), (305.3, 210.7))
        make_face()
    extrude(amount=-CUT_EXTRUDE2_DEPTH)


with BuildPart() as body_2_1:
    add(body_2.part)

    # Cut-Extrude2: cut by cut_extrude2_tool
    add(cut_extrude2_tool.part, mode=Mode.SUBTRACT)


with BuildPart() as body_4_1:
    add(body_4.part)

    # Cut-Extrude2: cut by cut_extrude2_tool
    add(cut_extrude2_tool.part, mode=Mode.SUBTRACT)


with BuildPart() as cut_extrude4_tool:
    # Sketch20 → Cut-Extrude4 (new body)
    with BuildSketch(Plane(origin=(0, 0, -17.9), x_dir=(-1, 0, 0), z_dir=(0, 0, -1)).offset(CUT_EXTRUDE4_START)):
        with BuildLine():
            Line((-337.05, 221.1), (-337.05, 210.7))
            ThreePointArc((-337.05, 210.7), (-318, 191.65), (-298.95, 210.7))
            Line((-298.95, 210.7), (-298.95, 221.1))
            ThreePointArc((-298.95, 221.1), (-318, 240.15), (-337.05, 221.1))
        make_face()
    extrude(amount=CUT_EXTRUDE4_DEPTH)


with BuildPart() as body_2_2:
    add(body_2_1.part)

    # Cut-Extrude4: cut by cut_extrude4_tool
    add(cut_extrude4_tool.part, mode=Mode.SUBTRACT)


with BuildPart() as body_4_2:
    add(body_4_1.part)

    # Cut-Extrude4: cut by cut_extrude4_tool
    add(cut_extrude4_tool.part, mode=Mode.SUBTRACT)


solid = Compound([part.part, body_3.part, body_5.part, body_2_2.part, body_4_2.part])
